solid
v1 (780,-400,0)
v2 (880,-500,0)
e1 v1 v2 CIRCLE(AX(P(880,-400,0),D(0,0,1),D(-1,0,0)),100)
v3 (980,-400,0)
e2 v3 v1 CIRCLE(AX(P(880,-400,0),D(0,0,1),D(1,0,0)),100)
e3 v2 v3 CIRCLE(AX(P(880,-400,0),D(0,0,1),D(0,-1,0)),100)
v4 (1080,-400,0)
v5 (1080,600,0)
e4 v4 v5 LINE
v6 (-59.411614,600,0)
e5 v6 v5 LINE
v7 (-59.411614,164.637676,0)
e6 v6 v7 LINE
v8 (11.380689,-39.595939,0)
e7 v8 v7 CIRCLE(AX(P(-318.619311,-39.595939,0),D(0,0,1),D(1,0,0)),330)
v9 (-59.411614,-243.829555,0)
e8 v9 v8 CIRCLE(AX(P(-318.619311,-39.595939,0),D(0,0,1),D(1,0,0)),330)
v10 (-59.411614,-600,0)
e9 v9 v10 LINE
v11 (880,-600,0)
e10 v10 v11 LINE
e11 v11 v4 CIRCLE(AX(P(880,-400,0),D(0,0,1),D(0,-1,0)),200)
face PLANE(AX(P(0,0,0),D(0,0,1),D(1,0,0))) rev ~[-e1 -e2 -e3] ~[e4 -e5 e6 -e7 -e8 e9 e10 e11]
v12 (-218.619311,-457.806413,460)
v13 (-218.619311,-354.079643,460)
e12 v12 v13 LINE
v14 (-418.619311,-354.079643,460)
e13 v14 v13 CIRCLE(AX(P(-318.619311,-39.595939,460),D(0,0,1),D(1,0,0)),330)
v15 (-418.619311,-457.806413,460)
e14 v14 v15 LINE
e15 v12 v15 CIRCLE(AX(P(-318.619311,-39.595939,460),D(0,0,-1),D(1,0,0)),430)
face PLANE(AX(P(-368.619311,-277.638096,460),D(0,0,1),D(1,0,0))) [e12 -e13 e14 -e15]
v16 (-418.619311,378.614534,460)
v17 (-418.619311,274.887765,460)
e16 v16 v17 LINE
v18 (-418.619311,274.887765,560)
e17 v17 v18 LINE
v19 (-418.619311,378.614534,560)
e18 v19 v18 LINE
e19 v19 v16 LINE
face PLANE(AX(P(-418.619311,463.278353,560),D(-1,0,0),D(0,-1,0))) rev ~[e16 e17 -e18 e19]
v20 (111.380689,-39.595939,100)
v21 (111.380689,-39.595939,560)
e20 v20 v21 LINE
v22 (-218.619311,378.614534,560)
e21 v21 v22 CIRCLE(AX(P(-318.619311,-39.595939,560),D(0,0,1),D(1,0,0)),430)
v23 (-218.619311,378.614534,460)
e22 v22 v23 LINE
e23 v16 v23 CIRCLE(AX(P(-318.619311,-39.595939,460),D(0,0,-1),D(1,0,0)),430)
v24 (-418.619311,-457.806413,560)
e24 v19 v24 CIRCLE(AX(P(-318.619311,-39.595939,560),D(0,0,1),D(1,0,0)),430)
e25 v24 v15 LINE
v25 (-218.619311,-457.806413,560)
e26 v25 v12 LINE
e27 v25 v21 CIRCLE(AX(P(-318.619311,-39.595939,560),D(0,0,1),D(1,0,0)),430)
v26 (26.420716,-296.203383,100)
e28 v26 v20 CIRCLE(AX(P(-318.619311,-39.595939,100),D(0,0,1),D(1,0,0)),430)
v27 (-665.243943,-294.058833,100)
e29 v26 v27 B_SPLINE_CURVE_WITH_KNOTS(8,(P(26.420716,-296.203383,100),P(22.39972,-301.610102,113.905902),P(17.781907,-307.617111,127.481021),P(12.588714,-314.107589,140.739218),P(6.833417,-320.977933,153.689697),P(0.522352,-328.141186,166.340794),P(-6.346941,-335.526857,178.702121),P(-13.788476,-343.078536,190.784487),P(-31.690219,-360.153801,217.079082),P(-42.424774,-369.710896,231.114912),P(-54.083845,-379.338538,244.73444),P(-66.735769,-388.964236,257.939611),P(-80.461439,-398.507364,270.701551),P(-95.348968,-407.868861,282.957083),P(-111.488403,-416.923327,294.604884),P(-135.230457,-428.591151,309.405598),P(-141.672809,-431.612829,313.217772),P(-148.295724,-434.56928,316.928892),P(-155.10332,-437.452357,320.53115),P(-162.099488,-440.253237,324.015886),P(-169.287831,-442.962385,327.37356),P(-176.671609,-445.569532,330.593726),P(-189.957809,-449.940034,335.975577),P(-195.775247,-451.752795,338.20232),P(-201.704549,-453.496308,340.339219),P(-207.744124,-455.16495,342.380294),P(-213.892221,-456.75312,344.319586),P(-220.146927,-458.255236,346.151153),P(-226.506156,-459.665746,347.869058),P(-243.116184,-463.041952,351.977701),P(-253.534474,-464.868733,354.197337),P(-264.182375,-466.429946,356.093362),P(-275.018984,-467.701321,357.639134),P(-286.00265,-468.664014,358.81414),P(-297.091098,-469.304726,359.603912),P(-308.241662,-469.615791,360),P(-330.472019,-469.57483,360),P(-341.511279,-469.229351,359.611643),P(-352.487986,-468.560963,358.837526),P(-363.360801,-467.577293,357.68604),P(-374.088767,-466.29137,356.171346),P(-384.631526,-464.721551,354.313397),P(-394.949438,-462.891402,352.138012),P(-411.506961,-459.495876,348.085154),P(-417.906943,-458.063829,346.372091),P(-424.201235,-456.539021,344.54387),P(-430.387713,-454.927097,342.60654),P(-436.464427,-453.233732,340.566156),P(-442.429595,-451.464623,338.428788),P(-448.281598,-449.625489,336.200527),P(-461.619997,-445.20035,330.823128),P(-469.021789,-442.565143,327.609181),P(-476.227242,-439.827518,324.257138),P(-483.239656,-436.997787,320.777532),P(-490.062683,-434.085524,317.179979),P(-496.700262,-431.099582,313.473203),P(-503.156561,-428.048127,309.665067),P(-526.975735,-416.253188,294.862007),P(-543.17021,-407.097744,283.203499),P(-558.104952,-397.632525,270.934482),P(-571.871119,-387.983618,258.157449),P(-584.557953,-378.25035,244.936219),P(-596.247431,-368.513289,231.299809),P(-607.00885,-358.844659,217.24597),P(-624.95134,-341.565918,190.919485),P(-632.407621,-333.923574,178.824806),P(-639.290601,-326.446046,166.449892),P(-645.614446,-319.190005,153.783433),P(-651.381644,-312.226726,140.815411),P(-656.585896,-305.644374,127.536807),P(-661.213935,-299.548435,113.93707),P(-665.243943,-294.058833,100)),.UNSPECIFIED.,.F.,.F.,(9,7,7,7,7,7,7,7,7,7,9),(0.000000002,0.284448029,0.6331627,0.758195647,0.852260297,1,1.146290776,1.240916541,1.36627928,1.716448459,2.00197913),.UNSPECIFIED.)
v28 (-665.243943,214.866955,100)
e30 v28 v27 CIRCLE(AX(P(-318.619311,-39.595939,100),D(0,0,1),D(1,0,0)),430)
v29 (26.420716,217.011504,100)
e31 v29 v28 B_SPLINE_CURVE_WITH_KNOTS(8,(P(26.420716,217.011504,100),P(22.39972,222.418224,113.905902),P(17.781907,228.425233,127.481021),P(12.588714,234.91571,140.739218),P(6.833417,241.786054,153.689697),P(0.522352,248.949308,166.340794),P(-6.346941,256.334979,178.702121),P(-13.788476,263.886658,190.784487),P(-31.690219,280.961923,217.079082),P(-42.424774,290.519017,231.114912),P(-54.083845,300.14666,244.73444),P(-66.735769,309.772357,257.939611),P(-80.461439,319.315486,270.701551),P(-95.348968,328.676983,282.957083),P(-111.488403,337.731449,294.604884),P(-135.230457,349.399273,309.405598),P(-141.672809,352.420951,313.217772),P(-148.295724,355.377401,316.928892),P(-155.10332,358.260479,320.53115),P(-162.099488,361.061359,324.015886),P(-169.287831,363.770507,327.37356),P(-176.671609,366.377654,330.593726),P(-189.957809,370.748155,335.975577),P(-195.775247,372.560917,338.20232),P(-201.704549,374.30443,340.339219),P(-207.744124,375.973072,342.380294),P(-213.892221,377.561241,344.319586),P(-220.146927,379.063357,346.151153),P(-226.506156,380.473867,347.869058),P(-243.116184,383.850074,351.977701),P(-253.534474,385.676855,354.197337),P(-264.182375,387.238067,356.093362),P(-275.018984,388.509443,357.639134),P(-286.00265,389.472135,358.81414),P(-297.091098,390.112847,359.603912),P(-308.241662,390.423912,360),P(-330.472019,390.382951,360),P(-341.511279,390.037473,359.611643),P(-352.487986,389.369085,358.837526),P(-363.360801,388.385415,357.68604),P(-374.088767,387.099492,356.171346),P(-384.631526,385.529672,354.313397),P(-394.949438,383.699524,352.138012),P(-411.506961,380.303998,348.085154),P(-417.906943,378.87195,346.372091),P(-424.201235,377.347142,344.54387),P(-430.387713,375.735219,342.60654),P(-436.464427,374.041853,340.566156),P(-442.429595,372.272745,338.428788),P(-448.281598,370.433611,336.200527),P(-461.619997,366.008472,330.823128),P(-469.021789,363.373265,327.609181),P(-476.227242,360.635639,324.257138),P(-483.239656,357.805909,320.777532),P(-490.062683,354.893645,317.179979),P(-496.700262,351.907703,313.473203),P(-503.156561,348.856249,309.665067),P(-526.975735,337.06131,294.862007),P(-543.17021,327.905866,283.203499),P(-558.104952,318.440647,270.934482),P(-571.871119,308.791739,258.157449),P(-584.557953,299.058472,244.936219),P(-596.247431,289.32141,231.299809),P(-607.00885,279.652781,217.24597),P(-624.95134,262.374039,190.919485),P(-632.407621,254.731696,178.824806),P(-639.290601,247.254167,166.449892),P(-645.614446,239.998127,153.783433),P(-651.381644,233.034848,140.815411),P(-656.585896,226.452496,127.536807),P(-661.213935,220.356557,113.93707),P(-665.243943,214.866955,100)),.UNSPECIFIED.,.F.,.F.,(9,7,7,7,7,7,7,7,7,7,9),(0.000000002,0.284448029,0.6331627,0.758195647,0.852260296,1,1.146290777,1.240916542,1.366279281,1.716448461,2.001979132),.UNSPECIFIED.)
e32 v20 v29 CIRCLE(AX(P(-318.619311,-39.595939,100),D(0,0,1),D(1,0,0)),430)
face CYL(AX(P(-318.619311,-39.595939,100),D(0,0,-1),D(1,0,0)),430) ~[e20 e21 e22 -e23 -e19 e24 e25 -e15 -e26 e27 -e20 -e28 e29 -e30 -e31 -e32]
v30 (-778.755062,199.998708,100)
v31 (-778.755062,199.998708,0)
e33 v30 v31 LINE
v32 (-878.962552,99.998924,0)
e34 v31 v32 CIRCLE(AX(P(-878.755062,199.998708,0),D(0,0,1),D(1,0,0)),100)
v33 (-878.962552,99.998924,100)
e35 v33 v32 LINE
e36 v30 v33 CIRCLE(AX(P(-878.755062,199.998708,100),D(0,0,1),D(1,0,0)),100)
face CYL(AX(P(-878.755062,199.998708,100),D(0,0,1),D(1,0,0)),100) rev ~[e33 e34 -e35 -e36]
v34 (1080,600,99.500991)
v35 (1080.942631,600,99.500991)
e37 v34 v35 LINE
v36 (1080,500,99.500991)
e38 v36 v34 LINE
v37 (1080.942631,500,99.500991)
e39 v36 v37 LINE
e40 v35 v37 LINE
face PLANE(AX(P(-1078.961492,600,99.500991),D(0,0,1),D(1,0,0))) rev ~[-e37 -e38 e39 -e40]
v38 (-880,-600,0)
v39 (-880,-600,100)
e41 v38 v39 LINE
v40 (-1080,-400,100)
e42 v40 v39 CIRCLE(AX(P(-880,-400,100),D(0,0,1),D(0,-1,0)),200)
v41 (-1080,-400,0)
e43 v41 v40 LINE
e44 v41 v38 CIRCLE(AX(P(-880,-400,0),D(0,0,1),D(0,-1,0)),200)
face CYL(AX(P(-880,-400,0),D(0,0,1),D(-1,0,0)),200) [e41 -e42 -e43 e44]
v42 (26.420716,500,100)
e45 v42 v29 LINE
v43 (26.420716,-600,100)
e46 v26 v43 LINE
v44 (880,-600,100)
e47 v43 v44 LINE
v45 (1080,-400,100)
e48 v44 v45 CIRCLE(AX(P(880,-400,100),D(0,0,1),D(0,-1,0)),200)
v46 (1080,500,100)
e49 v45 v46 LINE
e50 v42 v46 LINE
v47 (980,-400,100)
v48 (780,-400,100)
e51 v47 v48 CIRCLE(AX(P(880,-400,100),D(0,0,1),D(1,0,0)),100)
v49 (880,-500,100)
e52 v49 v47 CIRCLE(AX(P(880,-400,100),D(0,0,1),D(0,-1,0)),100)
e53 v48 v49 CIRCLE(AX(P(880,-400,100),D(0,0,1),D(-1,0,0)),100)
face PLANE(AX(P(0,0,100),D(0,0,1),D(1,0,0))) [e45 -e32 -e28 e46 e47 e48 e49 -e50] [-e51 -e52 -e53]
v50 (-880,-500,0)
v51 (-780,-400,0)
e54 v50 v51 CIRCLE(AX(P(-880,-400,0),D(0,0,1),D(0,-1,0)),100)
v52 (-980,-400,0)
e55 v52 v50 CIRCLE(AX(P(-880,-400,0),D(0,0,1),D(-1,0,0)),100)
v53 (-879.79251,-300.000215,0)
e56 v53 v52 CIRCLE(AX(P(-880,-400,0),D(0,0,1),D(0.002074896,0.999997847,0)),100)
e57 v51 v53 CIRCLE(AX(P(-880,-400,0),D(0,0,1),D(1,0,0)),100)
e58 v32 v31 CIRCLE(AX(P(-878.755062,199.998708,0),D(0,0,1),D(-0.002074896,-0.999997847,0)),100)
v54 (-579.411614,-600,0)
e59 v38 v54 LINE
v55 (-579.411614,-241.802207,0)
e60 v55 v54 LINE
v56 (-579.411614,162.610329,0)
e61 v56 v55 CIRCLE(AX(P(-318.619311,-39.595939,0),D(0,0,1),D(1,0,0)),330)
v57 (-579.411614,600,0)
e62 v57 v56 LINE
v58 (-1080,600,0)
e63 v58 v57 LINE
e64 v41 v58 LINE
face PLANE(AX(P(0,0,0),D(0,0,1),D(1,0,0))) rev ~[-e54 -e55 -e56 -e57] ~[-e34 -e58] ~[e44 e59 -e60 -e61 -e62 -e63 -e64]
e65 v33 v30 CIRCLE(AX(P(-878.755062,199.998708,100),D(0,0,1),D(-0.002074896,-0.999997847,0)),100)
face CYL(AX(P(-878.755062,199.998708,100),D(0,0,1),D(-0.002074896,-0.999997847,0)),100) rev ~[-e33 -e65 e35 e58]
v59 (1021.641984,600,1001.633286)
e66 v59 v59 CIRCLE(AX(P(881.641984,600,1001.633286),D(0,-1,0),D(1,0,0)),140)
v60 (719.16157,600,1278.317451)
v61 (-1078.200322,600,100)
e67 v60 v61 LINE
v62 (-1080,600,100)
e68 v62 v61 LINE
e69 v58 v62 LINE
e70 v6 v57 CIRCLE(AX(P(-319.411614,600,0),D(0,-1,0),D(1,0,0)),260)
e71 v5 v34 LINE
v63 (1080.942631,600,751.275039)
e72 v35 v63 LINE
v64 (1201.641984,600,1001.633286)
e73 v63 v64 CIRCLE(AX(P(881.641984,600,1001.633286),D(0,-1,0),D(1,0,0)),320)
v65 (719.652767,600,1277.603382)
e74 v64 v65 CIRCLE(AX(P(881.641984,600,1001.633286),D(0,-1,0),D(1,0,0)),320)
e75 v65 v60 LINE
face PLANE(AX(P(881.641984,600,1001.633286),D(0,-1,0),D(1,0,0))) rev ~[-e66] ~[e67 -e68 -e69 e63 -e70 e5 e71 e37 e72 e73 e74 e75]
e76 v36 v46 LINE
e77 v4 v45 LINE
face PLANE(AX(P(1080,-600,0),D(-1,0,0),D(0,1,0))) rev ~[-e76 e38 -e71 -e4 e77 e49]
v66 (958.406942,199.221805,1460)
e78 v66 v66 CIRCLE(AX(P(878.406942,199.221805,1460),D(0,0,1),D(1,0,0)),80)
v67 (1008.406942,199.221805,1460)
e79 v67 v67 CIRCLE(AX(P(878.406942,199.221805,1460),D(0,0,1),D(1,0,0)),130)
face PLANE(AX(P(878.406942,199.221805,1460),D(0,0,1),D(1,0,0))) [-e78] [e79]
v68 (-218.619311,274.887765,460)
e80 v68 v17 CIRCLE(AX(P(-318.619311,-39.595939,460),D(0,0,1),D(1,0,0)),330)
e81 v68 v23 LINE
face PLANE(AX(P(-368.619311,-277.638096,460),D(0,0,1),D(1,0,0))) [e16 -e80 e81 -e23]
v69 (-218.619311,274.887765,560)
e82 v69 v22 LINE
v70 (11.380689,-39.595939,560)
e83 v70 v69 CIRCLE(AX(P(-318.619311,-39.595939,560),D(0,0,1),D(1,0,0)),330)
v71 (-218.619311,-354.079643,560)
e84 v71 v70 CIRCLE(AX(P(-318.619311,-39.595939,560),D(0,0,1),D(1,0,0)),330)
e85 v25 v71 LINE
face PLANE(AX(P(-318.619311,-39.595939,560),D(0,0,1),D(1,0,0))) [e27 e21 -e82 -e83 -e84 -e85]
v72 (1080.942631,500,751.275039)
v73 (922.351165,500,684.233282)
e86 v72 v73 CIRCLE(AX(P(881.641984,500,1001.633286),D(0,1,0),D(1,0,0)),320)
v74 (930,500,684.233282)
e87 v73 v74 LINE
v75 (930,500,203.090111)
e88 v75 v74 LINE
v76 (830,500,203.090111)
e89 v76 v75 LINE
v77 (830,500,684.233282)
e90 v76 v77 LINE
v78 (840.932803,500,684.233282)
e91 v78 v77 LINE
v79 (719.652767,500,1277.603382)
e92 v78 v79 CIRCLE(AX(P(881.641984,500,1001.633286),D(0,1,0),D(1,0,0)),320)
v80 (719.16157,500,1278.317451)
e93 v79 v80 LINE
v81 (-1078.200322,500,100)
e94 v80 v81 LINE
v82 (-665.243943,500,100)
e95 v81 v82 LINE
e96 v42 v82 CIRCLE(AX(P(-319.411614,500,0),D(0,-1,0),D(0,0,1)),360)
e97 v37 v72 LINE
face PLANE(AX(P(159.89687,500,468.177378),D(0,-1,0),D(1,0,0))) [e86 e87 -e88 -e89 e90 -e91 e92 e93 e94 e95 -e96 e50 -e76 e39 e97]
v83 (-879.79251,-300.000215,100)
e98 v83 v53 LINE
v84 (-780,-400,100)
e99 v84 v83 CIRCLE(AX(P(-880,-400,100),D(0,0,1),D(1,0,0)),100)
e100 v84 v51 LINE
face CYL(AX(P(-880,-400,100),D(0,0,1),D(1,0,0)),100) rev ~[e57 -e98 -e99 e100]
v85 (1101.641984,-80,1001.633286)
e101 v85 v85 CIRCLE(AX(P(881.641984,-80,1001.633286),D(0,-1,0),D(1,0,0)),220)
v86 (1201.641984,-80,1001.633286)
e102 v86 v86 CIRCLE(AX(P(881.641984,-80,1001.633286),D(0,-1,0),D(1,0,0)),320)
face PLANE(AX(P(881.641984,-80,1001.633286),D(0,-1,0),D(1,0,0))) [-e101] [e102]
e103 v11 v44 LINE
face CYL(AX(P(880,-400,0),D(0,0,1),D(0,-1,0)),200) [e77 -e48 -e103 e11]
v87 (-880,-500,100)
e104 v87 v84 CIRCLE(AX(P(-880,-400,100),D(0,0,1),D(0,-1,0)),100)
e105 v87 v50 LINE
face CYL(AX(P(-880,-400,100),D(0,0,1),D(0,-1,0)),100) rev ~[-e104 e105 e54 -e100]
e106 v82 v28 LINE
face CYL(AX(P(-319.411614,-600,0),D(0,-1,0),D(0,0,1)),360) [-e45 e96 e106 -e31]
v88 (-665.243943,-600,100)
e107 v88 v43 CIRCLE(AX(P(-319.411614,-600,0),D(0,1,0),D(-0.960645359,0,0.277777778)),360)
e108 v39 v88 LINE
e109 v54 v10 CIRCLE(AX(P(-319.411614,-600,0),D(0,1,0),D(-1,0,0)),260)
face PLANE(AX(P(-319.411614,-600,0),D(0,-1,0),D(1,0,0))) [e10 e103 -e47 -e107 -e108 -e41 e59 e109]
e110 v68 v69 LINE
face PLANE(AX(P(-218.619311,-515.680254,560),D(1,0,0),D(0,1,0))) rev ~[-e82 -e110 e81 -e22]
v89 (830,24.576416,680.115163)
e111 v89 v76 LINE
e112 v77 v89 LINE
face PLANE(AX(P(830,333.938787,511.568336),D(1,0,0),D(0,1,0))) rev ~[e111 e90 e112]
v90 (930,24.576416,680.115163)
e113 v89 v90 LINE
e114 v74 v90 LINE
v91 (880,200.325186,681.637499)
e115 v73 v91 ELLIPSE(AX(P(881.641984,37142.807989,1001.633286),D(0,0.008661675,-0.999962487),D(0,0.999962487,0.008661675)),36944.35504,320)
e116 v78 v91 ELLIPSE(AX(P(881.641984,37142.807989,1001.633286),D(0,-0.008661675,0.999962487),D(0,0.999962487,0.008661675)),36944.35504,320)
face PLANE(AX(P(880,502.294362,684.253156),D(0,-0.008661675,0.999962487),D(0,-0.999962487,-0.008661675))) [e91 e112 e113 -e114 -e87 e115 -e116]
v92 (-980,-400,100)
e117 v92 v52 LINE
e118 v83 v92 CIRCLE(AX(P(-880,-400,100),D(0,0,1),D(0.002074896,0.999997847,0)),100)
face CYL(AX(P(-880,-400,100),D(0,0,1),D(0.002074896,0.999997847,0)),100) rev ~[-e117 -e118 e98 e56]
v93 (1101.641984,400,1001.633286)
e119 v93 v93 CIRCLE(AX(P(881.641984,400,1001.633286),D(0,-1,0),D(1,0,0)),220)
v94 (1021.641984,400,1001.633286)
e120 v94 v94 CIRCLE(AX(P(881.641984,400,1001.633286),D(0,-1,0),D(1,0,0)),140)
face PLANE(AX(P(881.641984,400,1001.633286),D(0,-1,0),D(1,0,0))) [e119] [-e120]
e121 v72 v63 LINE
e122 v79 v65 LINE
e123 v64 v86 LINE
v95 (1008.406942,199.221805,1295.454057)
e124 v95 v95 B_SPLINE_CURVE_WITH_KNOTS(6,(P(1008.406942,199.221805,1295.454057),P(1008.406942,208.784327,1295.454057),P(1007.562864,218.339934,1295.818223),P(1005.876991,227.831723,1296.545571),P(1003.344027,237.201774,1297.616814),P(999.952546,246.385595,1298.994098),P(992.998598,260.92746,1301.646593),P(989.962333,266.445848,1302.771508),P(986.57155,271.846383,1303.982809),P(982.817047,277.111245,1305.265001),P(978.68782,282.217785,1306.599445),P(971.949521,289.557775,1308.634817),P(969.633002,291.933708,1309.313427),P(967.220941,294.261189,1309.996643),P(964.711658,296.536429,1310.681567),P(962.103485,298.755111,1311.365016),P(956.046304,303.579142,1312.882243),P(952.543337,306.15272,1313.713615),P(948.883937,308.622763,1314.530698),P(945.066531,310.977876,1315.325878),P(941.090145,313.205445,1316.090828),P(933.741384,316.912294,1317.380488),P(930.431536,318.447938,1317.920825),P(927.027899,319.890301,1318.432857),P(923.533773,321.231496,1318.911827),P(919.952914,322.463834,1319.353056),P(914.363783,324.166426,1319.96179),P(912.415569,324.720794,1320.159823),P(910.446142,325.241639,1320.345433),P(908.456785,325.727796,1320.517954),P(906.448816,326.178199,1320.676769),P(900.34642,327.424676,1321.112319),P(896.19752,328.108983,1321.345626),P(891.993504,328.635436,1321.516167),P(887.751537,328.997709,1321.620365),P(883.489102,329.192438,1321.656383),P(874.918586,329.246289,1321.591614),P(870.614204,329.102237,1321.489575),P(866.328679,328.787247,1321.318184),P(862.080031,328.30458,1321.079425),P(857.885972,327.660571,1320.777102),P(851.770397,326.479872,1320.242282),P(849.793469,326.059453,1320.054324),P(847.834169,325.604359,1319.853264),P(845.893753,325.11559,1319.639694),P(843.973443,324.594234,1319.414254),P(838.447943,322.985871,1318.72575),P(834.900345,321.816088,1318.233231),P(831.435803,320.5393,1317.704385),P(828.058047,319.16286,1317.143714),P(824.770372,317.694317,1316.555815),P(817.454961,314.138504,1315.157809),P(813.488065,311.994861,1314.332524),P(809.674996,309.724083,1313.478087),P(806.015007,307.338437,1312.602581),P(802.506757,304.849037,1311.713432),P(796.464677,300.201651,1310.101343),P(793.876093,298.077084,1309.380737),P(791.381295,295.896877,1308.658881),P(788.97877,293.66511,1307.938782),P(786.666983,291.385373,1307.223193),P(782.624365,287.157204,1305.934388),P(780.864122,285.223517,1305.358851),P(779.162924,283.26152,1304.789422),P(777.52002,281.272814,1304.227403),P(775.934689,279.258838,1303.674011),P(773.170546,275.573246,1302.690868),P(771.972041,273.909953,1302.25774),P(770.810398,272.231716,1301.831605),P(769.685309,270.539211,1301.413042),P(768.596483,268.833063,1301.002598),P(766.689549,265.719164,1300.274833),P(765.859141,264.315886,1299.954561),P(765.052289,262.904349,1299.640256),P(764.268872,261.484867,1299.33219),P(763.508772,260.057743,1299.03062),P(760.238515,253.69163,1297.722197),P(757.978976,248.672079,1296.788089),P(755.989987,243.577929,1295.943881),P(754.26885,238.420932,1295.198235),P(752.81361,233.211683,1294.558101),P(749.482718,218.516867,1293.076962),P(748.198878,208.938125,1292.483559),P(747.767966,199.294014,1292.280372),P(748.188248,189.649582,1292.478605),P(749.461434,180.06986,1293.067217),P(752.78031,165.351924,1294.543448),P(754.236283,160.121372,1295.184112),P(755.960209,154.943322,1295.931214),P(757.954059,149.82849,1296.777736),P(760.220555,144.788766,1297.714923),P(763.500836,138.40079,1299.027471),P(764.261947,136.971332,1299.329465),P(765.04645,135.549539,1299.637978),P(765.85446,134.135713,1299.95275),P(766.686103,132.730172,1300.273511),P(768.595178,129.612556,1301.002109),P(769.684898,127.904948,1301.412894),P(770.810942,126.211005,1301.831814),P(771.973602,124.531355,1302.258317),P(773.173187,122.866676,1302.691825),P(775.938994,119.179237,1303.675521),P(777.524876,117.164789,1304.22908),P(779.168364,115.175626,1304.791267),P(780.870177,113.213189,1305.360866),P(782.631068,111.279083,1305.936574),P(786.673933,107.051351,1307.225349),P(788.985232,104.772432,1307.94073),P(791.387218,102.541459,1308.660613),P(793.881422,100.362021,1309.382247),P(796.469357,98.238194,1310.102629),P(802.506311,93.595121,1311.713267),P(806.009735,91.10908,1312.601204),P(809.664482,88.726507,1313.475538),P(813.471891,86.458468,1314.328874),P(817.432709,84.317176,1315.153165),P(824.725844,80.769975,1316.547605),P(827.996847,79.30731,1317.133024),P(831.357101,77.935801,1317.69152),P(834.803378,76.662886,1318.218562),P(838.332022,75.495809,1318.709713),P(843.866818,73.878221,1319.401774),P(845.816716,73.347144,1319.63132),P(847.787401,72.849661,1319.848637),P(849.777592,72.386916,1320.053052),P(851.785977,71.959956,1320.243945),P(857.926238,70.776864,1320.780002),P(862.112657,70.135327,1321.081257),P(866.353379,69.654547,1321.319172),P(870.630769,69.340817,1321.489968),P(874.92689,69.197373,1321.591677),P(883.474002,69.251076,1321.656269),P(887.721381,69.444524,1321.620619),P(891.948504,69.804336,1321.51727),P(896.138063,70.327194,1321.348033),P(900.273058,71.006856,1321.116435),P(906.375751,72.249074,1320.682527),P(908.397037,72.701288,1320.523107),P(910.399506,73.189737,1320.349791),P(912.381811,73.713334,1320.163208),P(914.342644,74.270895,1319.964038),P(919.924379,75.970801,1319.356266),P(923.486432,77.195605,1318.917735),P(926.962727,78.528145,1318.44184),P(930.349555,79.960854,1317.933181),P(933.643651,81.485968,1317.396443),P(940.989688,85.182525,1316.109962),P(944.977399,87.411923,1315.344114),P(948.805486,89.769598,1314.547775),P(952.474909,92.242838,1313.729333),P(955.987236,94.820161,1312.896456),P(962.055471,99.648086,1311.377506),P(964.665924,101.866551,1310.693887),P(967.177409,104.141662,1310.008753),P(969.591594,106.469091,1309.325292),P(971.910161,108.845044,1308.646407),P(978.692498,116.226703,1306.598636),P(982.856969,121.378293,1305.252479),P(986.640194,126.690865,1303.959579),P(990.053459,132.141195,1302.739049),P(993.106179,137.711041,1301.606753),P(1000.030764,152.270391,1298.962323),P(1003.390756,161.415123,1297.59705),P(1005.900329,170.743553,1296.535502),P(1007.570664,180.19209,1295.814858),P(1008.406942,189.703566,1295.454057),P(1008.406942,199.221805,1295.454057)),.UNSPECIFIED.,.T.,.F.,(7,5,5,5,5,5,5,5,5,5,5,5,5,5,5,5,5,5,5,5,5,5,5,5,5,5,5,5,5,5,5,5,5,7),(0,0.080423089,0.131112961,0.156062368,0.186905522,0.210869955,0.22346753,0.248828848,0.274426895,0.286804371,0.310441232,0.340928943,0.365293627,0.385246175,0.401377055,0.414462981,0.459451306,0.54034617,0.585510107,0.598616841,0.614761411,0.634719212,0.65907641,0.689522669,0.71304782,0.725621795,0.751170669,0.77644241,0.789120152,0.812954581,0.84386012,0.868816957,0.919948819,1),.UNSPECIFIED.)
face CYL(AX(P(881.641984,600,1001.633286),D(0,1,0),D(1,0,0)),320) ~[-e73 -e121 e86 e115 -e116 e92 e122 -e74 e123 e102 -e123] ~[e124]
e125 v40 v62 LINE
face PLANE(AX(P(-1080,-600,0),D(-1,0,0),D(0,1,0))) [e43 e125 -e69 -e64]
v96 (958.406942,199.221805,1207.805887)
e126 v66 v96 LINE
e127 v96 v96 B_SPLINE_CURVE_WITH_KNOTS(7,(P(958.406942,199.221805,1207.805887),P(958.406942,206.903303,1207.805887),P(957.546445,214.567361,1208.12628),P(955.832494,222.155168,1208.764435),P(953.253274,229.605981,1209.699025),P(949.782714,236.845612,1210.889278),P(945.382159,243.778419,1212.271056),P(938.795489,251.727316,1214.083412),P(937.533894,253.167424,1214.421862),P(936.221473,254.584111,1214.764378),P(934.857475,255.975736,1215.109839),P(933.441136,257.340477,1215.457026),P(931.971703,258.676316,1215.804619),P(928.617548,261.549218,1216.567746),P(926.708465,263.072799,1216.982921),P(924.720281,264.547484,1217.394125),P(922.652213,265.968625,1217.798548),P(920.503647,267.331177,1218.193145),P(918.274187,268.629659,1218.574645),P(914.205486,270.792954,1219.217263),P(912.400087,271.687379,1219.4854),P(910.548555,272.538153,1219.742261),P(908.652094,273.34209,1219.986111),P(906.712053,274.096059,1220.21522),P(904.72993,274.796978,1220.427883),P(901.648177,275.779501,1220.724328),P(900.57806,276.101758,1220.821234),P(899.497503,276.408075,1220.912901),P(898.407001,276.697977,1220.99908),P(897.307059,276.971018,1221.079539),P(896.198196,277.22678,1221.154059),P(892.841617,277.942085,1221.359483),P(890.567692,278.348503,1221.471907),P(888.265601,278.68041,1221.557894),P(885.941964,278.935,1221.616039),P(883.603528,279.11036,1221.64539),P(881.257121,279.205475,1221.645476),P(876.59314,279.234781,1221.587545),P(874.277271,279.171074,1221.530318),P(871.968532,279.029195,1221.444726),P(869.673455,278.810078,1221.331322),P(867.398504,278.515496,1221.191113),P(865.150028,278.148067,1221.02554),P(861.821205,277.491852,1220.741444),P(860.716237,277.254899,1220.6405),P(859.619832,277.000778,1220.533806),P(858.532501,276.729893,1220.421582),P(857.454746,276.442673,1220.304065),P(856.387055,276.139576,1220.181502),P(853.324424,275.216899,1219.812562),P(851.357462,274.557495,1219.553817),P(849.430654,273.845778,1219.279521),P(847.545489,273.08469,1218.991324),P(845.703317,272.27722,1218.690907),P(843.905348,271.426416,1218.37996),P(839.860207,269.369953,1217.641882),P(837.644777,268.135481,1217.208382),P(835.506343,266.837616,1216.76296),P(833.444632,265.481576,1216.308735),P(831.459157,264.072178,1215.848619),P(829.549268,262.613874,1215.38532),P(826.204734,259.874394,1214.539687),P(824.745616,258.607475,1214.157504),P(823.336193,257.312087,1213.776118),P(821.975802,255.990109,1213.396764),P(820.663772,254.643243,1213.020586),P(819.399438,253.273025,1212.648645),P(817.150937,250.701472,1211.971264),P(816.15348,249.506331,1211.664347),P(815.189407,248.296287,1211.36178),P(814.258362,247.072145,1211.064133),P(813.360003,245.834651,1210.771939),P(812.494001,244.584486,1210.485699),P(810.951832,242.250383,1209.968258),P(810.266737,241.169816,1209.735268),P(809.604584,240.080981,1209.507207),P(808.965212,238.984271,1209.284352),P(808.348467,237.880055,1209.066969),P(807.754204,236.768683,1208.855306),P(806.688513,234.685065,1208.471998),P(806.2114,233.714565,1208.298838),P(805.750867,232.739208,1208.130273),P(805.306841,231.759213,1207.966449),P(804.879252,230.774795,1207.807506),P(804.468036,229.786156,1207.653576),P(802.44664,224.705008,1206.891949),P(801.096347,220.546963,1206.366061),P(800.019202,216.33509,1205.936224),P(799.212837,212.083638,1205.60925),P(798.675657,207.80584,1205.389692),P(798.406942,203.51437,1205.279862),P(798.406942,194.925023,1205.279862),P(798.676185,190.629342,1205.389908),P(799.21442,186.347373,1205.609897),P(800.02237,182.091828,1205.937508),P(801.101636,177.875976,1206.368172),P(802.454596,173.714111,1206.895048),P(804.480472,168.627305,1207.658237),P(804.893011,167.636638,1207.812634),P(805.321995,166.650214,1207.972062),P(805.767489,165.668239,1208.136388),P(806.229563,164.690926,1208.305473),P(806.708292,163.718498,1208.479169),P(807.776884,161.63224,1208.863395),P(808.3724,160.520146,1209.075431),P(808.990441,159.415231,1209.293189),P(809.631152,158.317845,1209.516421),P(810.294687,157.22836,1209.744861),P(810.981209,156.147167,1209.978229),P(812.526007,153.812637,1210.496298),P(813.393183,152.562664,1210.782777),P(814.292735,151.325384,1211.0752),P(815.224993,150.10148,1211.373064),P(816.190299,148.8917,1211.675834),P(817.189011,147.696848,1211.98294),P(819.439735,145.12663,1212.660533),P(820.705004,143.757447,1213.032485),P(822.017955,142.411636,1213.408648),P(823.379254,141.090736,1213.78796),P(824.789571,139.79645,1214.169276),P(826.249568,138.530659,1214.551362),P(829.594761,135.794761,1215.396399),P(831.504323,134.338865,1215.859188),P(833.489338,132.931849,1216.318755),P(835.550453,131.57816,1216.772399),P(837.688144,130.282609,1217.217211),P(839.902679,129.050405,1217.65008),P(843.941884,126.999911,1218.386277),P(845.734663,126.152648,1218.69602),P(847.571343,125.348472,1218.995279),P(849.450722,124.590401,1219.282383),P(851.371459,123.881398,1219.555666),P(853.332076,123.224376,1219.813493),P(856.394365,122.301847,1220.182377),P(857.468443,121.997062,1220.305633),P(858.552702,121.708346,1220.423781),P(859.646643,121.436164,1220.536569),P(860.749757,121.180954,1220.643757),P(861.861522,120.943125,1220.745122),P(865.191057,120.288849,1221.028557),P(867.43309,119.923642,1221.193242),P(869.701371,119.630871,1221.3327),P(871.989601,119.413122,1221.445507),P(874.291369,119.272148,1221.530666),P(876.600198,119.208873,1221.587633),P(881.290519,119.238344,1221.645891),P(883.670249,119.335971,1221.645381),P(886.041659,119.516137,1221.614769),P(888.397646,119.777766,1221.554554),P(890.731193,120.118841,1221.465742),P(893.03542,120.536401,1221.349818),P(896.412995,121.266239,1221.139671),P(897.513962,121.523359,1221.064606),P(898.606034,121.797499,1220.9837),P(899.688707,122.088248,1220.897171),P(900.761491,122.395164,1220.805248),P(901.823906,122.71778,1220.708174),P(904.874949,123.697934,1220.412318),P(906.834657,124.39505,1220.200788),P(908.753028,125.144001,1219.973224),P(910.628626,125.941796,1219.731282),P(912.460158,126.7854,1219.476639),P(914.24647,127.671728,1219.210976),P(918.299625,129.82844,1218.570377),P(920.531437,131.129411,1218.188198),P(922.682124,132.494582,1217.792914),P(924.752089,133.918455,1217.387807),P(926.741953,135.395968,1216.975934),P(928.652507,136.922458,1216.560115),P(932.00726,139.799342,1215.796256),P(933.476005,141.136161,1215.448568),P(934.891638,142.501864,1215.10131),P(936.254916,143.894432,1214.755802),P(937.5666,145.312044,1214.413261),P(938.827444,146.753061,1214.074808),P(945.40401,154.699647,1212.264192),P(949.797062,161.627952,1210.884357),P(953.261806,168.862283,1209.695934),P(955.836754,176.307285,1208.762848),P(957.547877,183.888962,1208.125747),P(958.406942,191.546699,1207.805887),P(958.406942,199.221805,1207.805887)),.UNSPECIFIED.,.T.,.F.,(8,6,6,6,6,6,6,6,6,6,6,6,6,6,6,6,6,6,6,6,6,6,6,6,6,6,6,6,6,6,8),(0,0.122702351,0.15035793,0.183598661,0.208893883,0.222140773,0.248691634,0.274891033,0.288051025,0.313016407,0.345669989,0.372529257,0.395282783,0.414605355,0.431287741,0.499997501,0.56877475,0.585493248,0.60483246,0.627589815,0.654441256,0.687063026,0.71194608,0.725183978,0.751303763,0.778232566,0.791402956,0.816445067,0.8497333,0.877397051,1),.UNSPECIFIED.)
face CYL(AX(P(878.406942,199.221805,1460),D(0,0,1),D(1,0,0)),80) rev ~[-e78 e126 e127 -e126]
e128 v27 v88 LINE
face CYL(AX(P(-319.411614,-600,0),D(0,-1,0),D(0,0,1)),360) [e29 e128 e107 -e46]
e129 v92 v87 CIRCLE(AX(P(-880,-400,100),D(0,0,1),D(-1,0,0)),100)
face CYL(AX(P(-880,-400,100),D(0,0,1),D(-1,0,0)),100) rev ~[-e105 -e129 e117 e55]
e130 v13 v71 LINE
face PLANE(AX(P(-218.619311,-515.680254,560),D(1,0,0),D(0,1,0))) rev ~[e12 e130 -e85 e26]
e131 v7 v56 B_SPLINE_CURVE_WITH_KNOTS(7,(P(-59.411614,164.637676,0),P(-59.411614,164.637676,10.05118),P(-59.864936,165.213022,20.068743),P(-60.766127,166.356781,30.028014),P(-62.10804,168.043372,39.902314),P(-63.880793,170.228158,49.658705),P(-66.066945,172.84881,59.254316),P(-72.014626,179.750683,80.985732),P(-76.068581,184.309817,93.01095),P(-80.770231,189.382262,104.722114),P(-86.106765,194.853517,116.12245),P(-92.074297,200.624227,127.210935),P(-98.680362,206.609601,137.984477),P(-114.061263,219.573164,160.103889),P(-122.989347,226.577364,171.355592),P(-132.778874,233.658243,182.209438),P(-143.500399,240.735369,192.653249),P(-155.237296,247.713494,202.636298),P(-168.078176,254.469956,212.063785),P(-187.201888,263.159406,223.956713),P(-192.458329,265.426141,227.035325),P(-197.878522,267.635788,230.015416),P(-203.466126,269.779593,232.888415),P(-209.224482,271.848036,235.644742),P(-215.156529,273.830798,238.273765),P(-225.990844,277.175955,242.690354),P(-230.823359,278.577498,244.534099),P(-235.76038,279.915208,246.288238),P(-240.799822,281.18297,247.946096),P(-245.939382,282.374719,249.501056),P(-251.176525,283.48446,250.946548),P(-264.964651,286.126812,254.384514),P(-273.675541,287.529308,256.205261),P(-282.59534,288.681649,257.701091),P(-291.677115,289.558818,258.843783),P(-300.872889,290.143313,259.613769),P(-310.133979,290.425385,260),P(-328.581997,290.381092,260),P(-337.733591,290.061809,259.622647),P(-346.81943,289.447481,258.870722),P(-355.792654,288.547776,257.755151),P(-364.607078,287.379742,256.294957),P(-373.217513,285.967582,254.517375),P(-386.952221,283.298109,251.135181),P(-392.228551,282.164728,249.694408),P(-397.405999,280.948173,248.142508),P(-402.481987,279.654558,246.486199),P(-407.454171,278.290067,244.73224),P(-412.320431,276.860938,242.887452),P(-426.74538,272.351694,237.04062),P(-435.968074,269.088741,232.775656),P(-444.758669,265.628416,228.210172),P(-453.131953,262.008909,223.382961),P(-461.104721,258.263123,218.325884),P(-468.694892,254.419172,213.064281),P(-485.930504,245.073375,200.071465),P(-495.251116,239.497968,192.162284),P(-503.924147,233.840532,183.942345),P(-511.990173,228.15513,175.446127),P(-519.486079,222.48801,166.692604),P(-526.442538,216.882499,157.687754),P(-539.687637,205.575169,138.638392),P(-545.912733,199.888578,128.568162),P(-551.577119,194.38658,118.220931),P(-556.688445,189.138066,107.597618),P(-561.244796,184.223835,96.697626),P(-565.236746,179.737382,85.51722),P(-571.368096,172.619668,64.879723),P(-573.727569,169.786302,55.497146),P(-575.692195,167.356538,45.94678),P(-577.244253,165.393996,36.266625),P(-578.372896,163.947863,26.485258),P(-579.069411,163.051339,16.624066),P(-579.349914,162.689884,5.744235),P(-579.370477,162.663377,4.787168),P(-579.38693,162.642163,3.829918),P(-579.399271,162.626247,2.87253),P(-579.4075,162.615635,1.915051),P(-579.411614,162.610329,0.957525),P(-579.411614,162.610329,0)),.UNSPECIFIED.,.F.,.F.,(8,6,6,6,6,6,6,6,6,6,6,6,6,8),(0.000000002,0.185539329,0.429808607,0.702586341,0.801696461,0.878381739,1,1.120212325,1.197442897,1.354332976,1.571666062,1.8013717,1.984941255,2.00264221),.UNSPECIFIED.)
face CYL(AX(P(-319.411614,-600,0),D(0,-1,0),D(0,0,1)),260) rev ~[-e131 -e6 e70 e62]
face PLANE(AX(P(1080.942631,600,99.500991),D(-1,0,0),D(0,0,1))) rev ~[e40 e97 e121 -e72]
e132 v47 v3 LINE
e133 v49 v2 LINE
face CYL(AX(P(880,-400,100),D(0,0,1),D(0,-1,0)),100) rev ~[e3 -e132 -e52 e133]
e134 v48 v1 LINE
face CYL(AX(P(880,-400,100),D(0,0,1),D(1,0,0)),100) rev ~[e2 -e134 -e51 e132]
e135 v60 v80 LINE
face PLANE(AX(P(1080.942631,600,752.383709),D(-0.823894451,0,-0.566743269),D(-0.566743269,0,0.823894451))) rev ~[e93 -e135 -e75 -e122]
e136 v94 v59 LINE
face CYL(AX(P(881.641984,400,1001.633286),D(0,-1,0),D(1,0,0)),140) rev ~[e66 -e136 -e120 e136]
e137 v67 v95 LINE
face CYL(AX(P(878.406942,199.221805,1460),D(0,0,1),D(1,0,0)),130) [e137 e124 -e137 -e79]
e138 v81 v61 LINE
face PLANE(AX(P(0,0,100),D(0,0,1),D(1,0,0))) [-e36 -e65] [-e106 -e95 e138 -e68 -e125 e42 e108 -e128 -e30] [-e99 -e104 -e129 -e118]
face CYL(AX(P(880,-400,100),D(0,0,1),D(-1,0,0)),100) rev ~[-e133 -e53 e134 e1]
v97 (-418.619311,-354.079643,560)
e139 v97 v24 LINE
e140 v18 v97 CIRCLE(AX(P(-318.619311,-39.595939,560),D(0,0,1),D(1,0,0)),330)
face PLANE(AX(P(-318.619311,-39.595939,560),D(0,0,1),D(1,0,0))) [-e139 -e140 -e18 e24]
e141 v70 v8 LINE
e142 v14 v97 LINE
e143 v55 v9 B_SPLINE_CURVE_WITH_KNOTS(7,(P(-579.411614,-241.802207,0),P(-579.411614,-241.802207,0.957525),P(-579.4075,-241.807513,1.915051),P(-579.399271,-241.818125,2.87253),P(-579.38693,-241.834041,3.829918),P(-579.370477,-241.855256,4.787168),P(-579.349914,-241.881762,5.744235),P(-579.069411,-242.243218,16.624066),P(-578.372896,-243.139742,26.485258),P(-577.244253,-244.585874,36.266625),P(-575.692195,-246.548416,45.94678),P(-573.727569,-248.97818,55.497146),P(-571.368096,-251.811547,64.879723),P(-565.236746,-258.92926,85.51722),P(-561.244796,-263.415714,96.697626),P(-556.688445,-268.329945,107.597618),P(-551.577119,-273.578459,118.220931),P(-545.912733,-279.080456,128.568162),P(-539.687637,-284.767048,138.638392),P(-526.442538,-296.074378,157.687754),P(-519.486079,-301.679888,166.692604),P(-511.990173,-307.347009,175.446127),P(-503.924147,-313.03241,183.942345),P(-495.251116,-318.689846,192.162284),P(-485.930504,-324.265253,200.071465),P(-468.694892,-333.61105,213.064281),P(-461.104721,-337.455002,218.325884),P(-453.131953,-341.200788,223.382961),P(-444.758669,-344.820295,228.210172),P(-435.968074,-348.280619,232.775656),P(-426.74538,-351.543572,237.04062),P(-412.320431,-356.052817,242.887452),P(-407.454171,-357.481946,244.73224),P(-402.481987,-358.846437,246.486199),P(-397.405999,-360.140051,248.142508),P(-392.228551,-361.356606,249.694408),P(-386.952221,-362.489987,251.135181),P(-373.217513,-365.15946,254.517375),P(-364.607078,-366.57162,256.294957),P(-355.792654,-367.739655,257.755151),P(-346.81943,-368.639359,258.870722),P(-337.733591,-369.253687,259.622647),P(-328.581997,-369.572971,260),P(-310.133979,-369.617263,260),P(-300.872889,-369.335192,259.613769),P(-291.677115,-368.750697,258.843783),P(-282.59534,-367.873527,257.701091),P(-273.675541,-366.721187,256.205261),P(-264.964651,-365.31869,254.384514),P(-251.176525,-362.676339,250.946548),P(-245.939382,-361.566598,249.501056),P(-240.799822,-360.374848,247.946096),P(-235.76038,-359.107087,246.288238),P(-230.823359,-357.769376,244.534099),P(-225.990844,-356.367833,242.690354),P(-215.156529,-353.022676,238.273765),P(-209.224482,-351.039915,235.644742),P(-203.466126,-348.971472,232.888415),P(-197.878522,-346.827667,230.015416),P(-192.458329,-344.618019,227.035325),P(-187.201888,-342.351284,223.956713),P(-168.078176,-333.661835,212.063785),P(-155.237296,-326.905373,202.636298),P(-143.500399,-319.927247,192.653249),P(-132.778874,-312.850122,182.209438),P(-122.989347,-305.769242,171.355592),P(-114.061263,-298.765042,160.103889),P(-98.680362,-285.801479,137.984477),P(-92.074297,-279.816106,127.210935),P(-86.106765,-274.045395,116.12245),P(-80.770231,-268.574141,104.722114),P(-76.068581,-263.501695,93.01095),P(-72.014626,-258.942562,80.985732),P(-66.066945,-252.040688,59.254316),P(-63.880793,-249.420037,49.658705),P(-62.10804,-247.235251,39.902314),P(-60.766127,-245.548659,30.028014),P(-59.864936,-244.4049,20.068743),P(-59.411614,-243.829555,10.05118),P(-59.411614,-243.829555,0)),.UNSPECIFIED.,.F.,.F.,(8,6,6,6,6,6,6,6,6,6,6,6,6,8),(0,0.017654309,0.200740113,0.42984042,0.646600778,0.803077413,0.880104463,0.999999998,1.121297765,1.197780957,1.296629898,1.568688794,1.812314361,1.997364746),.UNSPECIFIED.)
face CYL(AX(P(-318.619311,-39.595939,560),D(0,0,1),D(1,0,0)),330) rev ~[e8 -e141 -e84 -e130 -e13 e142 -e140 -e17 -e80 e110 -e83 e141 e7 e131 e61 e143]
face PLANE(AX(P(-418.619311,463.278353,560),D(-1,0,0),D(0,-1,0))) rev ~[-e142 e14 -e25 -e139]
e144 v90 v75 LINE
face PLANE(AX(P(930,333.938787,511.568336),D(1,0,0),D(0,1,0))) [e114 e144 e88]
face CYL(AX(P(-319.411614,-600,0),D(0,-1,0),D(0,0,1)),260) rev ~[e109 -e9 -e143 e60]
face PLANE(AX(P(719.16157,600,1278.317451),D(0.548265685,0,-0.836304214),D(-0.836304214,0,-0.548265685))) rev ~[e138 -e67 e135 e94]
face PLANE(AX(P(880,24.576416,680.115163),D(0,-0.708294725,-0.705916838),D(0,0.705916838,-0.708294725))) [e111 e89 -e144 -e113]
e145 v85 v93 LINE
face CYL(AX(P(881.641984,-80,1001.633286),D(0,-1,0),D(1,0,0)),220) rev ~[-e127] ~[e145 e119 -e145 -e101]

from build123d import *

# Parameters (mm, degrees)
F0_W      = 2160
F0_H      = 1200
F1_DEPTH  = 100
F2_R      = 200
F3_R      = 200
F5_DEPTH  = 100
F6_R      = 430
F7_DEPTH  = 460
F8_W      = 100
F8_H      = 476.0843142867
F9_DEPTH  = 100
F12_DEPTH = 1200
F13_W     = 750
F13_H     = 370
F14_DEPTH = 1200.0010001
F15_R     = 330
F16_DEPTH = 560
F20_DEPTH = 100
F21_DEPTH = 1200.001
F18_R     = 320
F22_DEPTH = 680
F23_R     = 220
F24_DEPTH = 480
F26_R     = 130
F27_DEPTH = 170
F28_R     = 80
F29_DEPTH = 260
F30_R     = 140
F31_DEPTH = 200.0010001
F34_DEPTH = 50
F35_DEPTH = 50


with BuildPart() as f1:
    # F0 (on Top) → F1 (new body)
    with BuildSketch(Plane.XY):
        Rectangle(F0_W, F0_H)
    extrude(amount=F1_DEPTH)

    # F2
    f2_edges = [f1.edges().sort_by_distance(p)[0] for p in [
        (-1080, -600, 50),
    ]]
    fillet(f2_edges, radius=F2_R)

    # F3
    f3_edges = [f1.edges().sort_by_distance(p)[0] for p in [
        (1080, -600, 50),
    ]]
    fillet(f3_edges, radius=F3_R)

    # F4 (on face) → F5 (cut)
    with BuildSketch(Plane.XY.offset(100)):
        with BuildLine():
            Line((980, -400), (880, -400))
            Line((880, -400), (880, -500))
            ThreePointArc((880, -500), (950.7106781187, -470.7106781187), (980, -400))
        make_face()
        with BuildLine():
            ThreePointArc((980, -400), (880, -300), (780, -400))
            Line((780, -400), (880, -400))
            Line((880, -400), (980, -400))
        make_face()
        with BuildLine():
            Line((880, -400), (780, -400))
            ThreePointArc((780, -400), (809.2893218813, -470.7106781187), (880, -500))
            Line((880, -500), (880, -400))
        make_face()
        with BuildLine():
            Line((-880, -400), (-879.7925103978, -300.0002152599))
            ThreePointArc((-879.7925103978, -300.0002152599), (-950.6372813739, -329.2160012424), (-980, -400))
            Line((-980, -400), (-880, -400))
        make_face()
        with BuildLine():
            ThreePointArc((-780, -400), (-809.2160012424, -329.3627186261), (-879.7925103978, -300.0002152599))
            Line((-879.7925103978, -300.0002152599), (-880, -400))
            Line((-880, -400), (-780, -400))
        make_face()
        with BuildLine():
            ThreePointArc((-880, -500), (-809.2893218813, -470.7106781187), (-780, -400))
            Line((-780, -400), (-880, -400))
            Line((-880, -400), (-880, -500))
        make_face()
        with BuildLine():
            Line((-880, -400), (-980, -400))
            ThreePointArc((-980, -400), (-950.7106781187, -470.7106781187), (-880, -500))
            Line((-880, -500), (-880, -400))
        make_face()
        with BuildLine():
            ThreePointArc((-878.9625519891, 99.9989237005), (-808.117781013, 129.214709683), (-778.7550623869, 199.9987084406))
            ThreePointArc((-778.7550623869, 199.9987084406), (-949.3923437608, 270.7827071981), (-878.9625519891, 99.9989237005))
        make_face()
    extrude(amount=-F5_DEPTH, mode=Mode.SUBTRACT)

    # F6 (on face) → F7 (join)
    with BuildSketch(Plane.XY.offset(100)):
        with Locations((-318.6193108559, -39.595939219)):
            Circle(F6_R)
    extrude(amount=F7_DEPTH)

    # F8 (on face) → F9 (cut)
    with BuildSketch(Plane.XY.offset(560)):
        with Locations((-368.6193108559, -277.6380963624)):
            Rectangle(F8_W, F8_H)
        Polygon((-418.6193108559, -39.595939219), (-318.6193108559, -39.595939219), (-218.6193108559, -39.595939219), (-218.6193108559, 463.2783532143), (-418.6193108559, 463.2783532143), align=None)
        with Locations((-268.6193108559, -277.6380963624)):
            Rectangle(F8_W, F8_H)
    extrude(amount=-F9_DEPTH, mode=Mode.SUBTRACT)

    # F11 (on offset) → F12 (join)
    with BuildSketch(Plane.XZ.offset(600)):
        with BuildLine():
            ThreePointArc((40.5883862803, 0), (-64.8531724926, 254.5584412272), (-319.4116137197, 360))
            ThreePointArc((-319.4116137197, 360), (-573.9700549469, -254.5584412272), (40.5883862803, 0))
        make_face()
        with BuildLine():
            ThreePointArc((-59.4116137197, 0), (-503.2593768282, -183.8477631085), (-319.4116137197, 260))
            ThreePointArc((-319.4116137197, 260), (-135.5638506112, 183.8477631085), (-59.4116137197, 0))
        make_face(mode=Mode.SUBTRACT)
    extrude(amount=-F12_DEPTH)

    # F13 (on face) → F14 (cut, through all)
    with BuildSketch(Plane.XZ.offset(600)):
        with Locations((-321.4434087276, -185)):
            Rectangle(F13_W, F13_H)
    extrude(amount=-F14_DEPTH, mode=Mode.SUBTRACT)

    # F15 (on face) → F16 (cut)
    with BuildSketch(Plane.XY.offset(560)):
        with Locations((-318.6193108559, -39.595939219)):
            Circle(F15_R)
    extrude(amount=-F16_DEPTH, mode=Mode.SUBTRACT)

    # F19 (on offset) → F20 (join)
    with BuildSketch(Plane.XZ.offset(-600)):
        Polygon((1080.9426307678, 752.3837089539), (719.1615700722, 1278.3174514771), (-1078.9614915848, 99.5009914041), (1080.9426307678, 99.5009914041), align=None)
    extrude(amount=F20_DEPTH)

    # F11 (on offset) → F21 (cut, through all)
    with BuildSketch(Plane.XZ.offset(600)):
        with BuildLine():
            ThreePointArc((-59.4116137197, 0), (-135.5638506112, 183.8477631085), (-319.4116137197, 260))
            ThreePointArc((-319.4116137197, 260), (-503.2593768282, -183.8477631085), (-59.4116137197, 0))
        make_face()
    extrude(amount=-F21_DEPTH, mode=Mode.SUBTRACT)

    # F18 (on offset) → F22 (join)
    with BuildSketch(Plane.XZ.offset(-600)):
        with Locations((881.6419839859, 1001.6332864761)):
            Circle(F18_R)
    extrude(amount=F22_DEPTH)

    # F23 (on face) → F24 (cut)
    with BuildSketch(Plane.XZ.offset(80)):
        with Locations((881.6419839859, 1001.6332864761)):
            Circle(F23_R)
    extrude(amount=-F24_DEPTH, mode=Mode.SUBTRACT)

    # F26 (on offset) → F27 (join)
    with BuildSketch(Plane.XY.offset(1460)):
        with Locations((878.4069418907, 199.221804738)):
            Circle(F26_R)
    extrude(amount=-F27_DEPTH)

    # F28 (on face) → F29 (cut)
    with BuildSketch(Plane.XY.offset(1460)):
        with Locations((878.4069418907, 199.221804738)):
            Circle(F28_R)
    extrude(amount=-F29_DEPTH, mode=Mode.SUBTRACT)

    # F30 (on face) → F31 (cut, through all)
    with BuildSketch(Plane.XZ.offset(-400)):
        with Locations((881.6419839859, 1001.6332864761)):
            Circle(F30_R)
    extrude(amount=-F31_DEPTH, mode=Mode.SUBTRACT)

    # F33 (on offset) → F34 (join)
    with BuildSketch(Plane.YZ.offset(880)):
        Polygon((502.2943615913, 684.2531561852), (24.5764162391, 680.1151633263), (502.2943615913, 200.7880210876), align=None)
    extrude(amount=F34_DEPTH)

    # F33 (on offset) → F35 (join)
    with BuildSketch(Plane.YZ.offset(880)):
        Polygon((502.2943615913, 684.2531561852), (24.5764162391, 680.1151633263), (502.2943615913, 200.7880210876), align=None)
    extrude(amount=-F35_DEPTH)


solid = f1.part
